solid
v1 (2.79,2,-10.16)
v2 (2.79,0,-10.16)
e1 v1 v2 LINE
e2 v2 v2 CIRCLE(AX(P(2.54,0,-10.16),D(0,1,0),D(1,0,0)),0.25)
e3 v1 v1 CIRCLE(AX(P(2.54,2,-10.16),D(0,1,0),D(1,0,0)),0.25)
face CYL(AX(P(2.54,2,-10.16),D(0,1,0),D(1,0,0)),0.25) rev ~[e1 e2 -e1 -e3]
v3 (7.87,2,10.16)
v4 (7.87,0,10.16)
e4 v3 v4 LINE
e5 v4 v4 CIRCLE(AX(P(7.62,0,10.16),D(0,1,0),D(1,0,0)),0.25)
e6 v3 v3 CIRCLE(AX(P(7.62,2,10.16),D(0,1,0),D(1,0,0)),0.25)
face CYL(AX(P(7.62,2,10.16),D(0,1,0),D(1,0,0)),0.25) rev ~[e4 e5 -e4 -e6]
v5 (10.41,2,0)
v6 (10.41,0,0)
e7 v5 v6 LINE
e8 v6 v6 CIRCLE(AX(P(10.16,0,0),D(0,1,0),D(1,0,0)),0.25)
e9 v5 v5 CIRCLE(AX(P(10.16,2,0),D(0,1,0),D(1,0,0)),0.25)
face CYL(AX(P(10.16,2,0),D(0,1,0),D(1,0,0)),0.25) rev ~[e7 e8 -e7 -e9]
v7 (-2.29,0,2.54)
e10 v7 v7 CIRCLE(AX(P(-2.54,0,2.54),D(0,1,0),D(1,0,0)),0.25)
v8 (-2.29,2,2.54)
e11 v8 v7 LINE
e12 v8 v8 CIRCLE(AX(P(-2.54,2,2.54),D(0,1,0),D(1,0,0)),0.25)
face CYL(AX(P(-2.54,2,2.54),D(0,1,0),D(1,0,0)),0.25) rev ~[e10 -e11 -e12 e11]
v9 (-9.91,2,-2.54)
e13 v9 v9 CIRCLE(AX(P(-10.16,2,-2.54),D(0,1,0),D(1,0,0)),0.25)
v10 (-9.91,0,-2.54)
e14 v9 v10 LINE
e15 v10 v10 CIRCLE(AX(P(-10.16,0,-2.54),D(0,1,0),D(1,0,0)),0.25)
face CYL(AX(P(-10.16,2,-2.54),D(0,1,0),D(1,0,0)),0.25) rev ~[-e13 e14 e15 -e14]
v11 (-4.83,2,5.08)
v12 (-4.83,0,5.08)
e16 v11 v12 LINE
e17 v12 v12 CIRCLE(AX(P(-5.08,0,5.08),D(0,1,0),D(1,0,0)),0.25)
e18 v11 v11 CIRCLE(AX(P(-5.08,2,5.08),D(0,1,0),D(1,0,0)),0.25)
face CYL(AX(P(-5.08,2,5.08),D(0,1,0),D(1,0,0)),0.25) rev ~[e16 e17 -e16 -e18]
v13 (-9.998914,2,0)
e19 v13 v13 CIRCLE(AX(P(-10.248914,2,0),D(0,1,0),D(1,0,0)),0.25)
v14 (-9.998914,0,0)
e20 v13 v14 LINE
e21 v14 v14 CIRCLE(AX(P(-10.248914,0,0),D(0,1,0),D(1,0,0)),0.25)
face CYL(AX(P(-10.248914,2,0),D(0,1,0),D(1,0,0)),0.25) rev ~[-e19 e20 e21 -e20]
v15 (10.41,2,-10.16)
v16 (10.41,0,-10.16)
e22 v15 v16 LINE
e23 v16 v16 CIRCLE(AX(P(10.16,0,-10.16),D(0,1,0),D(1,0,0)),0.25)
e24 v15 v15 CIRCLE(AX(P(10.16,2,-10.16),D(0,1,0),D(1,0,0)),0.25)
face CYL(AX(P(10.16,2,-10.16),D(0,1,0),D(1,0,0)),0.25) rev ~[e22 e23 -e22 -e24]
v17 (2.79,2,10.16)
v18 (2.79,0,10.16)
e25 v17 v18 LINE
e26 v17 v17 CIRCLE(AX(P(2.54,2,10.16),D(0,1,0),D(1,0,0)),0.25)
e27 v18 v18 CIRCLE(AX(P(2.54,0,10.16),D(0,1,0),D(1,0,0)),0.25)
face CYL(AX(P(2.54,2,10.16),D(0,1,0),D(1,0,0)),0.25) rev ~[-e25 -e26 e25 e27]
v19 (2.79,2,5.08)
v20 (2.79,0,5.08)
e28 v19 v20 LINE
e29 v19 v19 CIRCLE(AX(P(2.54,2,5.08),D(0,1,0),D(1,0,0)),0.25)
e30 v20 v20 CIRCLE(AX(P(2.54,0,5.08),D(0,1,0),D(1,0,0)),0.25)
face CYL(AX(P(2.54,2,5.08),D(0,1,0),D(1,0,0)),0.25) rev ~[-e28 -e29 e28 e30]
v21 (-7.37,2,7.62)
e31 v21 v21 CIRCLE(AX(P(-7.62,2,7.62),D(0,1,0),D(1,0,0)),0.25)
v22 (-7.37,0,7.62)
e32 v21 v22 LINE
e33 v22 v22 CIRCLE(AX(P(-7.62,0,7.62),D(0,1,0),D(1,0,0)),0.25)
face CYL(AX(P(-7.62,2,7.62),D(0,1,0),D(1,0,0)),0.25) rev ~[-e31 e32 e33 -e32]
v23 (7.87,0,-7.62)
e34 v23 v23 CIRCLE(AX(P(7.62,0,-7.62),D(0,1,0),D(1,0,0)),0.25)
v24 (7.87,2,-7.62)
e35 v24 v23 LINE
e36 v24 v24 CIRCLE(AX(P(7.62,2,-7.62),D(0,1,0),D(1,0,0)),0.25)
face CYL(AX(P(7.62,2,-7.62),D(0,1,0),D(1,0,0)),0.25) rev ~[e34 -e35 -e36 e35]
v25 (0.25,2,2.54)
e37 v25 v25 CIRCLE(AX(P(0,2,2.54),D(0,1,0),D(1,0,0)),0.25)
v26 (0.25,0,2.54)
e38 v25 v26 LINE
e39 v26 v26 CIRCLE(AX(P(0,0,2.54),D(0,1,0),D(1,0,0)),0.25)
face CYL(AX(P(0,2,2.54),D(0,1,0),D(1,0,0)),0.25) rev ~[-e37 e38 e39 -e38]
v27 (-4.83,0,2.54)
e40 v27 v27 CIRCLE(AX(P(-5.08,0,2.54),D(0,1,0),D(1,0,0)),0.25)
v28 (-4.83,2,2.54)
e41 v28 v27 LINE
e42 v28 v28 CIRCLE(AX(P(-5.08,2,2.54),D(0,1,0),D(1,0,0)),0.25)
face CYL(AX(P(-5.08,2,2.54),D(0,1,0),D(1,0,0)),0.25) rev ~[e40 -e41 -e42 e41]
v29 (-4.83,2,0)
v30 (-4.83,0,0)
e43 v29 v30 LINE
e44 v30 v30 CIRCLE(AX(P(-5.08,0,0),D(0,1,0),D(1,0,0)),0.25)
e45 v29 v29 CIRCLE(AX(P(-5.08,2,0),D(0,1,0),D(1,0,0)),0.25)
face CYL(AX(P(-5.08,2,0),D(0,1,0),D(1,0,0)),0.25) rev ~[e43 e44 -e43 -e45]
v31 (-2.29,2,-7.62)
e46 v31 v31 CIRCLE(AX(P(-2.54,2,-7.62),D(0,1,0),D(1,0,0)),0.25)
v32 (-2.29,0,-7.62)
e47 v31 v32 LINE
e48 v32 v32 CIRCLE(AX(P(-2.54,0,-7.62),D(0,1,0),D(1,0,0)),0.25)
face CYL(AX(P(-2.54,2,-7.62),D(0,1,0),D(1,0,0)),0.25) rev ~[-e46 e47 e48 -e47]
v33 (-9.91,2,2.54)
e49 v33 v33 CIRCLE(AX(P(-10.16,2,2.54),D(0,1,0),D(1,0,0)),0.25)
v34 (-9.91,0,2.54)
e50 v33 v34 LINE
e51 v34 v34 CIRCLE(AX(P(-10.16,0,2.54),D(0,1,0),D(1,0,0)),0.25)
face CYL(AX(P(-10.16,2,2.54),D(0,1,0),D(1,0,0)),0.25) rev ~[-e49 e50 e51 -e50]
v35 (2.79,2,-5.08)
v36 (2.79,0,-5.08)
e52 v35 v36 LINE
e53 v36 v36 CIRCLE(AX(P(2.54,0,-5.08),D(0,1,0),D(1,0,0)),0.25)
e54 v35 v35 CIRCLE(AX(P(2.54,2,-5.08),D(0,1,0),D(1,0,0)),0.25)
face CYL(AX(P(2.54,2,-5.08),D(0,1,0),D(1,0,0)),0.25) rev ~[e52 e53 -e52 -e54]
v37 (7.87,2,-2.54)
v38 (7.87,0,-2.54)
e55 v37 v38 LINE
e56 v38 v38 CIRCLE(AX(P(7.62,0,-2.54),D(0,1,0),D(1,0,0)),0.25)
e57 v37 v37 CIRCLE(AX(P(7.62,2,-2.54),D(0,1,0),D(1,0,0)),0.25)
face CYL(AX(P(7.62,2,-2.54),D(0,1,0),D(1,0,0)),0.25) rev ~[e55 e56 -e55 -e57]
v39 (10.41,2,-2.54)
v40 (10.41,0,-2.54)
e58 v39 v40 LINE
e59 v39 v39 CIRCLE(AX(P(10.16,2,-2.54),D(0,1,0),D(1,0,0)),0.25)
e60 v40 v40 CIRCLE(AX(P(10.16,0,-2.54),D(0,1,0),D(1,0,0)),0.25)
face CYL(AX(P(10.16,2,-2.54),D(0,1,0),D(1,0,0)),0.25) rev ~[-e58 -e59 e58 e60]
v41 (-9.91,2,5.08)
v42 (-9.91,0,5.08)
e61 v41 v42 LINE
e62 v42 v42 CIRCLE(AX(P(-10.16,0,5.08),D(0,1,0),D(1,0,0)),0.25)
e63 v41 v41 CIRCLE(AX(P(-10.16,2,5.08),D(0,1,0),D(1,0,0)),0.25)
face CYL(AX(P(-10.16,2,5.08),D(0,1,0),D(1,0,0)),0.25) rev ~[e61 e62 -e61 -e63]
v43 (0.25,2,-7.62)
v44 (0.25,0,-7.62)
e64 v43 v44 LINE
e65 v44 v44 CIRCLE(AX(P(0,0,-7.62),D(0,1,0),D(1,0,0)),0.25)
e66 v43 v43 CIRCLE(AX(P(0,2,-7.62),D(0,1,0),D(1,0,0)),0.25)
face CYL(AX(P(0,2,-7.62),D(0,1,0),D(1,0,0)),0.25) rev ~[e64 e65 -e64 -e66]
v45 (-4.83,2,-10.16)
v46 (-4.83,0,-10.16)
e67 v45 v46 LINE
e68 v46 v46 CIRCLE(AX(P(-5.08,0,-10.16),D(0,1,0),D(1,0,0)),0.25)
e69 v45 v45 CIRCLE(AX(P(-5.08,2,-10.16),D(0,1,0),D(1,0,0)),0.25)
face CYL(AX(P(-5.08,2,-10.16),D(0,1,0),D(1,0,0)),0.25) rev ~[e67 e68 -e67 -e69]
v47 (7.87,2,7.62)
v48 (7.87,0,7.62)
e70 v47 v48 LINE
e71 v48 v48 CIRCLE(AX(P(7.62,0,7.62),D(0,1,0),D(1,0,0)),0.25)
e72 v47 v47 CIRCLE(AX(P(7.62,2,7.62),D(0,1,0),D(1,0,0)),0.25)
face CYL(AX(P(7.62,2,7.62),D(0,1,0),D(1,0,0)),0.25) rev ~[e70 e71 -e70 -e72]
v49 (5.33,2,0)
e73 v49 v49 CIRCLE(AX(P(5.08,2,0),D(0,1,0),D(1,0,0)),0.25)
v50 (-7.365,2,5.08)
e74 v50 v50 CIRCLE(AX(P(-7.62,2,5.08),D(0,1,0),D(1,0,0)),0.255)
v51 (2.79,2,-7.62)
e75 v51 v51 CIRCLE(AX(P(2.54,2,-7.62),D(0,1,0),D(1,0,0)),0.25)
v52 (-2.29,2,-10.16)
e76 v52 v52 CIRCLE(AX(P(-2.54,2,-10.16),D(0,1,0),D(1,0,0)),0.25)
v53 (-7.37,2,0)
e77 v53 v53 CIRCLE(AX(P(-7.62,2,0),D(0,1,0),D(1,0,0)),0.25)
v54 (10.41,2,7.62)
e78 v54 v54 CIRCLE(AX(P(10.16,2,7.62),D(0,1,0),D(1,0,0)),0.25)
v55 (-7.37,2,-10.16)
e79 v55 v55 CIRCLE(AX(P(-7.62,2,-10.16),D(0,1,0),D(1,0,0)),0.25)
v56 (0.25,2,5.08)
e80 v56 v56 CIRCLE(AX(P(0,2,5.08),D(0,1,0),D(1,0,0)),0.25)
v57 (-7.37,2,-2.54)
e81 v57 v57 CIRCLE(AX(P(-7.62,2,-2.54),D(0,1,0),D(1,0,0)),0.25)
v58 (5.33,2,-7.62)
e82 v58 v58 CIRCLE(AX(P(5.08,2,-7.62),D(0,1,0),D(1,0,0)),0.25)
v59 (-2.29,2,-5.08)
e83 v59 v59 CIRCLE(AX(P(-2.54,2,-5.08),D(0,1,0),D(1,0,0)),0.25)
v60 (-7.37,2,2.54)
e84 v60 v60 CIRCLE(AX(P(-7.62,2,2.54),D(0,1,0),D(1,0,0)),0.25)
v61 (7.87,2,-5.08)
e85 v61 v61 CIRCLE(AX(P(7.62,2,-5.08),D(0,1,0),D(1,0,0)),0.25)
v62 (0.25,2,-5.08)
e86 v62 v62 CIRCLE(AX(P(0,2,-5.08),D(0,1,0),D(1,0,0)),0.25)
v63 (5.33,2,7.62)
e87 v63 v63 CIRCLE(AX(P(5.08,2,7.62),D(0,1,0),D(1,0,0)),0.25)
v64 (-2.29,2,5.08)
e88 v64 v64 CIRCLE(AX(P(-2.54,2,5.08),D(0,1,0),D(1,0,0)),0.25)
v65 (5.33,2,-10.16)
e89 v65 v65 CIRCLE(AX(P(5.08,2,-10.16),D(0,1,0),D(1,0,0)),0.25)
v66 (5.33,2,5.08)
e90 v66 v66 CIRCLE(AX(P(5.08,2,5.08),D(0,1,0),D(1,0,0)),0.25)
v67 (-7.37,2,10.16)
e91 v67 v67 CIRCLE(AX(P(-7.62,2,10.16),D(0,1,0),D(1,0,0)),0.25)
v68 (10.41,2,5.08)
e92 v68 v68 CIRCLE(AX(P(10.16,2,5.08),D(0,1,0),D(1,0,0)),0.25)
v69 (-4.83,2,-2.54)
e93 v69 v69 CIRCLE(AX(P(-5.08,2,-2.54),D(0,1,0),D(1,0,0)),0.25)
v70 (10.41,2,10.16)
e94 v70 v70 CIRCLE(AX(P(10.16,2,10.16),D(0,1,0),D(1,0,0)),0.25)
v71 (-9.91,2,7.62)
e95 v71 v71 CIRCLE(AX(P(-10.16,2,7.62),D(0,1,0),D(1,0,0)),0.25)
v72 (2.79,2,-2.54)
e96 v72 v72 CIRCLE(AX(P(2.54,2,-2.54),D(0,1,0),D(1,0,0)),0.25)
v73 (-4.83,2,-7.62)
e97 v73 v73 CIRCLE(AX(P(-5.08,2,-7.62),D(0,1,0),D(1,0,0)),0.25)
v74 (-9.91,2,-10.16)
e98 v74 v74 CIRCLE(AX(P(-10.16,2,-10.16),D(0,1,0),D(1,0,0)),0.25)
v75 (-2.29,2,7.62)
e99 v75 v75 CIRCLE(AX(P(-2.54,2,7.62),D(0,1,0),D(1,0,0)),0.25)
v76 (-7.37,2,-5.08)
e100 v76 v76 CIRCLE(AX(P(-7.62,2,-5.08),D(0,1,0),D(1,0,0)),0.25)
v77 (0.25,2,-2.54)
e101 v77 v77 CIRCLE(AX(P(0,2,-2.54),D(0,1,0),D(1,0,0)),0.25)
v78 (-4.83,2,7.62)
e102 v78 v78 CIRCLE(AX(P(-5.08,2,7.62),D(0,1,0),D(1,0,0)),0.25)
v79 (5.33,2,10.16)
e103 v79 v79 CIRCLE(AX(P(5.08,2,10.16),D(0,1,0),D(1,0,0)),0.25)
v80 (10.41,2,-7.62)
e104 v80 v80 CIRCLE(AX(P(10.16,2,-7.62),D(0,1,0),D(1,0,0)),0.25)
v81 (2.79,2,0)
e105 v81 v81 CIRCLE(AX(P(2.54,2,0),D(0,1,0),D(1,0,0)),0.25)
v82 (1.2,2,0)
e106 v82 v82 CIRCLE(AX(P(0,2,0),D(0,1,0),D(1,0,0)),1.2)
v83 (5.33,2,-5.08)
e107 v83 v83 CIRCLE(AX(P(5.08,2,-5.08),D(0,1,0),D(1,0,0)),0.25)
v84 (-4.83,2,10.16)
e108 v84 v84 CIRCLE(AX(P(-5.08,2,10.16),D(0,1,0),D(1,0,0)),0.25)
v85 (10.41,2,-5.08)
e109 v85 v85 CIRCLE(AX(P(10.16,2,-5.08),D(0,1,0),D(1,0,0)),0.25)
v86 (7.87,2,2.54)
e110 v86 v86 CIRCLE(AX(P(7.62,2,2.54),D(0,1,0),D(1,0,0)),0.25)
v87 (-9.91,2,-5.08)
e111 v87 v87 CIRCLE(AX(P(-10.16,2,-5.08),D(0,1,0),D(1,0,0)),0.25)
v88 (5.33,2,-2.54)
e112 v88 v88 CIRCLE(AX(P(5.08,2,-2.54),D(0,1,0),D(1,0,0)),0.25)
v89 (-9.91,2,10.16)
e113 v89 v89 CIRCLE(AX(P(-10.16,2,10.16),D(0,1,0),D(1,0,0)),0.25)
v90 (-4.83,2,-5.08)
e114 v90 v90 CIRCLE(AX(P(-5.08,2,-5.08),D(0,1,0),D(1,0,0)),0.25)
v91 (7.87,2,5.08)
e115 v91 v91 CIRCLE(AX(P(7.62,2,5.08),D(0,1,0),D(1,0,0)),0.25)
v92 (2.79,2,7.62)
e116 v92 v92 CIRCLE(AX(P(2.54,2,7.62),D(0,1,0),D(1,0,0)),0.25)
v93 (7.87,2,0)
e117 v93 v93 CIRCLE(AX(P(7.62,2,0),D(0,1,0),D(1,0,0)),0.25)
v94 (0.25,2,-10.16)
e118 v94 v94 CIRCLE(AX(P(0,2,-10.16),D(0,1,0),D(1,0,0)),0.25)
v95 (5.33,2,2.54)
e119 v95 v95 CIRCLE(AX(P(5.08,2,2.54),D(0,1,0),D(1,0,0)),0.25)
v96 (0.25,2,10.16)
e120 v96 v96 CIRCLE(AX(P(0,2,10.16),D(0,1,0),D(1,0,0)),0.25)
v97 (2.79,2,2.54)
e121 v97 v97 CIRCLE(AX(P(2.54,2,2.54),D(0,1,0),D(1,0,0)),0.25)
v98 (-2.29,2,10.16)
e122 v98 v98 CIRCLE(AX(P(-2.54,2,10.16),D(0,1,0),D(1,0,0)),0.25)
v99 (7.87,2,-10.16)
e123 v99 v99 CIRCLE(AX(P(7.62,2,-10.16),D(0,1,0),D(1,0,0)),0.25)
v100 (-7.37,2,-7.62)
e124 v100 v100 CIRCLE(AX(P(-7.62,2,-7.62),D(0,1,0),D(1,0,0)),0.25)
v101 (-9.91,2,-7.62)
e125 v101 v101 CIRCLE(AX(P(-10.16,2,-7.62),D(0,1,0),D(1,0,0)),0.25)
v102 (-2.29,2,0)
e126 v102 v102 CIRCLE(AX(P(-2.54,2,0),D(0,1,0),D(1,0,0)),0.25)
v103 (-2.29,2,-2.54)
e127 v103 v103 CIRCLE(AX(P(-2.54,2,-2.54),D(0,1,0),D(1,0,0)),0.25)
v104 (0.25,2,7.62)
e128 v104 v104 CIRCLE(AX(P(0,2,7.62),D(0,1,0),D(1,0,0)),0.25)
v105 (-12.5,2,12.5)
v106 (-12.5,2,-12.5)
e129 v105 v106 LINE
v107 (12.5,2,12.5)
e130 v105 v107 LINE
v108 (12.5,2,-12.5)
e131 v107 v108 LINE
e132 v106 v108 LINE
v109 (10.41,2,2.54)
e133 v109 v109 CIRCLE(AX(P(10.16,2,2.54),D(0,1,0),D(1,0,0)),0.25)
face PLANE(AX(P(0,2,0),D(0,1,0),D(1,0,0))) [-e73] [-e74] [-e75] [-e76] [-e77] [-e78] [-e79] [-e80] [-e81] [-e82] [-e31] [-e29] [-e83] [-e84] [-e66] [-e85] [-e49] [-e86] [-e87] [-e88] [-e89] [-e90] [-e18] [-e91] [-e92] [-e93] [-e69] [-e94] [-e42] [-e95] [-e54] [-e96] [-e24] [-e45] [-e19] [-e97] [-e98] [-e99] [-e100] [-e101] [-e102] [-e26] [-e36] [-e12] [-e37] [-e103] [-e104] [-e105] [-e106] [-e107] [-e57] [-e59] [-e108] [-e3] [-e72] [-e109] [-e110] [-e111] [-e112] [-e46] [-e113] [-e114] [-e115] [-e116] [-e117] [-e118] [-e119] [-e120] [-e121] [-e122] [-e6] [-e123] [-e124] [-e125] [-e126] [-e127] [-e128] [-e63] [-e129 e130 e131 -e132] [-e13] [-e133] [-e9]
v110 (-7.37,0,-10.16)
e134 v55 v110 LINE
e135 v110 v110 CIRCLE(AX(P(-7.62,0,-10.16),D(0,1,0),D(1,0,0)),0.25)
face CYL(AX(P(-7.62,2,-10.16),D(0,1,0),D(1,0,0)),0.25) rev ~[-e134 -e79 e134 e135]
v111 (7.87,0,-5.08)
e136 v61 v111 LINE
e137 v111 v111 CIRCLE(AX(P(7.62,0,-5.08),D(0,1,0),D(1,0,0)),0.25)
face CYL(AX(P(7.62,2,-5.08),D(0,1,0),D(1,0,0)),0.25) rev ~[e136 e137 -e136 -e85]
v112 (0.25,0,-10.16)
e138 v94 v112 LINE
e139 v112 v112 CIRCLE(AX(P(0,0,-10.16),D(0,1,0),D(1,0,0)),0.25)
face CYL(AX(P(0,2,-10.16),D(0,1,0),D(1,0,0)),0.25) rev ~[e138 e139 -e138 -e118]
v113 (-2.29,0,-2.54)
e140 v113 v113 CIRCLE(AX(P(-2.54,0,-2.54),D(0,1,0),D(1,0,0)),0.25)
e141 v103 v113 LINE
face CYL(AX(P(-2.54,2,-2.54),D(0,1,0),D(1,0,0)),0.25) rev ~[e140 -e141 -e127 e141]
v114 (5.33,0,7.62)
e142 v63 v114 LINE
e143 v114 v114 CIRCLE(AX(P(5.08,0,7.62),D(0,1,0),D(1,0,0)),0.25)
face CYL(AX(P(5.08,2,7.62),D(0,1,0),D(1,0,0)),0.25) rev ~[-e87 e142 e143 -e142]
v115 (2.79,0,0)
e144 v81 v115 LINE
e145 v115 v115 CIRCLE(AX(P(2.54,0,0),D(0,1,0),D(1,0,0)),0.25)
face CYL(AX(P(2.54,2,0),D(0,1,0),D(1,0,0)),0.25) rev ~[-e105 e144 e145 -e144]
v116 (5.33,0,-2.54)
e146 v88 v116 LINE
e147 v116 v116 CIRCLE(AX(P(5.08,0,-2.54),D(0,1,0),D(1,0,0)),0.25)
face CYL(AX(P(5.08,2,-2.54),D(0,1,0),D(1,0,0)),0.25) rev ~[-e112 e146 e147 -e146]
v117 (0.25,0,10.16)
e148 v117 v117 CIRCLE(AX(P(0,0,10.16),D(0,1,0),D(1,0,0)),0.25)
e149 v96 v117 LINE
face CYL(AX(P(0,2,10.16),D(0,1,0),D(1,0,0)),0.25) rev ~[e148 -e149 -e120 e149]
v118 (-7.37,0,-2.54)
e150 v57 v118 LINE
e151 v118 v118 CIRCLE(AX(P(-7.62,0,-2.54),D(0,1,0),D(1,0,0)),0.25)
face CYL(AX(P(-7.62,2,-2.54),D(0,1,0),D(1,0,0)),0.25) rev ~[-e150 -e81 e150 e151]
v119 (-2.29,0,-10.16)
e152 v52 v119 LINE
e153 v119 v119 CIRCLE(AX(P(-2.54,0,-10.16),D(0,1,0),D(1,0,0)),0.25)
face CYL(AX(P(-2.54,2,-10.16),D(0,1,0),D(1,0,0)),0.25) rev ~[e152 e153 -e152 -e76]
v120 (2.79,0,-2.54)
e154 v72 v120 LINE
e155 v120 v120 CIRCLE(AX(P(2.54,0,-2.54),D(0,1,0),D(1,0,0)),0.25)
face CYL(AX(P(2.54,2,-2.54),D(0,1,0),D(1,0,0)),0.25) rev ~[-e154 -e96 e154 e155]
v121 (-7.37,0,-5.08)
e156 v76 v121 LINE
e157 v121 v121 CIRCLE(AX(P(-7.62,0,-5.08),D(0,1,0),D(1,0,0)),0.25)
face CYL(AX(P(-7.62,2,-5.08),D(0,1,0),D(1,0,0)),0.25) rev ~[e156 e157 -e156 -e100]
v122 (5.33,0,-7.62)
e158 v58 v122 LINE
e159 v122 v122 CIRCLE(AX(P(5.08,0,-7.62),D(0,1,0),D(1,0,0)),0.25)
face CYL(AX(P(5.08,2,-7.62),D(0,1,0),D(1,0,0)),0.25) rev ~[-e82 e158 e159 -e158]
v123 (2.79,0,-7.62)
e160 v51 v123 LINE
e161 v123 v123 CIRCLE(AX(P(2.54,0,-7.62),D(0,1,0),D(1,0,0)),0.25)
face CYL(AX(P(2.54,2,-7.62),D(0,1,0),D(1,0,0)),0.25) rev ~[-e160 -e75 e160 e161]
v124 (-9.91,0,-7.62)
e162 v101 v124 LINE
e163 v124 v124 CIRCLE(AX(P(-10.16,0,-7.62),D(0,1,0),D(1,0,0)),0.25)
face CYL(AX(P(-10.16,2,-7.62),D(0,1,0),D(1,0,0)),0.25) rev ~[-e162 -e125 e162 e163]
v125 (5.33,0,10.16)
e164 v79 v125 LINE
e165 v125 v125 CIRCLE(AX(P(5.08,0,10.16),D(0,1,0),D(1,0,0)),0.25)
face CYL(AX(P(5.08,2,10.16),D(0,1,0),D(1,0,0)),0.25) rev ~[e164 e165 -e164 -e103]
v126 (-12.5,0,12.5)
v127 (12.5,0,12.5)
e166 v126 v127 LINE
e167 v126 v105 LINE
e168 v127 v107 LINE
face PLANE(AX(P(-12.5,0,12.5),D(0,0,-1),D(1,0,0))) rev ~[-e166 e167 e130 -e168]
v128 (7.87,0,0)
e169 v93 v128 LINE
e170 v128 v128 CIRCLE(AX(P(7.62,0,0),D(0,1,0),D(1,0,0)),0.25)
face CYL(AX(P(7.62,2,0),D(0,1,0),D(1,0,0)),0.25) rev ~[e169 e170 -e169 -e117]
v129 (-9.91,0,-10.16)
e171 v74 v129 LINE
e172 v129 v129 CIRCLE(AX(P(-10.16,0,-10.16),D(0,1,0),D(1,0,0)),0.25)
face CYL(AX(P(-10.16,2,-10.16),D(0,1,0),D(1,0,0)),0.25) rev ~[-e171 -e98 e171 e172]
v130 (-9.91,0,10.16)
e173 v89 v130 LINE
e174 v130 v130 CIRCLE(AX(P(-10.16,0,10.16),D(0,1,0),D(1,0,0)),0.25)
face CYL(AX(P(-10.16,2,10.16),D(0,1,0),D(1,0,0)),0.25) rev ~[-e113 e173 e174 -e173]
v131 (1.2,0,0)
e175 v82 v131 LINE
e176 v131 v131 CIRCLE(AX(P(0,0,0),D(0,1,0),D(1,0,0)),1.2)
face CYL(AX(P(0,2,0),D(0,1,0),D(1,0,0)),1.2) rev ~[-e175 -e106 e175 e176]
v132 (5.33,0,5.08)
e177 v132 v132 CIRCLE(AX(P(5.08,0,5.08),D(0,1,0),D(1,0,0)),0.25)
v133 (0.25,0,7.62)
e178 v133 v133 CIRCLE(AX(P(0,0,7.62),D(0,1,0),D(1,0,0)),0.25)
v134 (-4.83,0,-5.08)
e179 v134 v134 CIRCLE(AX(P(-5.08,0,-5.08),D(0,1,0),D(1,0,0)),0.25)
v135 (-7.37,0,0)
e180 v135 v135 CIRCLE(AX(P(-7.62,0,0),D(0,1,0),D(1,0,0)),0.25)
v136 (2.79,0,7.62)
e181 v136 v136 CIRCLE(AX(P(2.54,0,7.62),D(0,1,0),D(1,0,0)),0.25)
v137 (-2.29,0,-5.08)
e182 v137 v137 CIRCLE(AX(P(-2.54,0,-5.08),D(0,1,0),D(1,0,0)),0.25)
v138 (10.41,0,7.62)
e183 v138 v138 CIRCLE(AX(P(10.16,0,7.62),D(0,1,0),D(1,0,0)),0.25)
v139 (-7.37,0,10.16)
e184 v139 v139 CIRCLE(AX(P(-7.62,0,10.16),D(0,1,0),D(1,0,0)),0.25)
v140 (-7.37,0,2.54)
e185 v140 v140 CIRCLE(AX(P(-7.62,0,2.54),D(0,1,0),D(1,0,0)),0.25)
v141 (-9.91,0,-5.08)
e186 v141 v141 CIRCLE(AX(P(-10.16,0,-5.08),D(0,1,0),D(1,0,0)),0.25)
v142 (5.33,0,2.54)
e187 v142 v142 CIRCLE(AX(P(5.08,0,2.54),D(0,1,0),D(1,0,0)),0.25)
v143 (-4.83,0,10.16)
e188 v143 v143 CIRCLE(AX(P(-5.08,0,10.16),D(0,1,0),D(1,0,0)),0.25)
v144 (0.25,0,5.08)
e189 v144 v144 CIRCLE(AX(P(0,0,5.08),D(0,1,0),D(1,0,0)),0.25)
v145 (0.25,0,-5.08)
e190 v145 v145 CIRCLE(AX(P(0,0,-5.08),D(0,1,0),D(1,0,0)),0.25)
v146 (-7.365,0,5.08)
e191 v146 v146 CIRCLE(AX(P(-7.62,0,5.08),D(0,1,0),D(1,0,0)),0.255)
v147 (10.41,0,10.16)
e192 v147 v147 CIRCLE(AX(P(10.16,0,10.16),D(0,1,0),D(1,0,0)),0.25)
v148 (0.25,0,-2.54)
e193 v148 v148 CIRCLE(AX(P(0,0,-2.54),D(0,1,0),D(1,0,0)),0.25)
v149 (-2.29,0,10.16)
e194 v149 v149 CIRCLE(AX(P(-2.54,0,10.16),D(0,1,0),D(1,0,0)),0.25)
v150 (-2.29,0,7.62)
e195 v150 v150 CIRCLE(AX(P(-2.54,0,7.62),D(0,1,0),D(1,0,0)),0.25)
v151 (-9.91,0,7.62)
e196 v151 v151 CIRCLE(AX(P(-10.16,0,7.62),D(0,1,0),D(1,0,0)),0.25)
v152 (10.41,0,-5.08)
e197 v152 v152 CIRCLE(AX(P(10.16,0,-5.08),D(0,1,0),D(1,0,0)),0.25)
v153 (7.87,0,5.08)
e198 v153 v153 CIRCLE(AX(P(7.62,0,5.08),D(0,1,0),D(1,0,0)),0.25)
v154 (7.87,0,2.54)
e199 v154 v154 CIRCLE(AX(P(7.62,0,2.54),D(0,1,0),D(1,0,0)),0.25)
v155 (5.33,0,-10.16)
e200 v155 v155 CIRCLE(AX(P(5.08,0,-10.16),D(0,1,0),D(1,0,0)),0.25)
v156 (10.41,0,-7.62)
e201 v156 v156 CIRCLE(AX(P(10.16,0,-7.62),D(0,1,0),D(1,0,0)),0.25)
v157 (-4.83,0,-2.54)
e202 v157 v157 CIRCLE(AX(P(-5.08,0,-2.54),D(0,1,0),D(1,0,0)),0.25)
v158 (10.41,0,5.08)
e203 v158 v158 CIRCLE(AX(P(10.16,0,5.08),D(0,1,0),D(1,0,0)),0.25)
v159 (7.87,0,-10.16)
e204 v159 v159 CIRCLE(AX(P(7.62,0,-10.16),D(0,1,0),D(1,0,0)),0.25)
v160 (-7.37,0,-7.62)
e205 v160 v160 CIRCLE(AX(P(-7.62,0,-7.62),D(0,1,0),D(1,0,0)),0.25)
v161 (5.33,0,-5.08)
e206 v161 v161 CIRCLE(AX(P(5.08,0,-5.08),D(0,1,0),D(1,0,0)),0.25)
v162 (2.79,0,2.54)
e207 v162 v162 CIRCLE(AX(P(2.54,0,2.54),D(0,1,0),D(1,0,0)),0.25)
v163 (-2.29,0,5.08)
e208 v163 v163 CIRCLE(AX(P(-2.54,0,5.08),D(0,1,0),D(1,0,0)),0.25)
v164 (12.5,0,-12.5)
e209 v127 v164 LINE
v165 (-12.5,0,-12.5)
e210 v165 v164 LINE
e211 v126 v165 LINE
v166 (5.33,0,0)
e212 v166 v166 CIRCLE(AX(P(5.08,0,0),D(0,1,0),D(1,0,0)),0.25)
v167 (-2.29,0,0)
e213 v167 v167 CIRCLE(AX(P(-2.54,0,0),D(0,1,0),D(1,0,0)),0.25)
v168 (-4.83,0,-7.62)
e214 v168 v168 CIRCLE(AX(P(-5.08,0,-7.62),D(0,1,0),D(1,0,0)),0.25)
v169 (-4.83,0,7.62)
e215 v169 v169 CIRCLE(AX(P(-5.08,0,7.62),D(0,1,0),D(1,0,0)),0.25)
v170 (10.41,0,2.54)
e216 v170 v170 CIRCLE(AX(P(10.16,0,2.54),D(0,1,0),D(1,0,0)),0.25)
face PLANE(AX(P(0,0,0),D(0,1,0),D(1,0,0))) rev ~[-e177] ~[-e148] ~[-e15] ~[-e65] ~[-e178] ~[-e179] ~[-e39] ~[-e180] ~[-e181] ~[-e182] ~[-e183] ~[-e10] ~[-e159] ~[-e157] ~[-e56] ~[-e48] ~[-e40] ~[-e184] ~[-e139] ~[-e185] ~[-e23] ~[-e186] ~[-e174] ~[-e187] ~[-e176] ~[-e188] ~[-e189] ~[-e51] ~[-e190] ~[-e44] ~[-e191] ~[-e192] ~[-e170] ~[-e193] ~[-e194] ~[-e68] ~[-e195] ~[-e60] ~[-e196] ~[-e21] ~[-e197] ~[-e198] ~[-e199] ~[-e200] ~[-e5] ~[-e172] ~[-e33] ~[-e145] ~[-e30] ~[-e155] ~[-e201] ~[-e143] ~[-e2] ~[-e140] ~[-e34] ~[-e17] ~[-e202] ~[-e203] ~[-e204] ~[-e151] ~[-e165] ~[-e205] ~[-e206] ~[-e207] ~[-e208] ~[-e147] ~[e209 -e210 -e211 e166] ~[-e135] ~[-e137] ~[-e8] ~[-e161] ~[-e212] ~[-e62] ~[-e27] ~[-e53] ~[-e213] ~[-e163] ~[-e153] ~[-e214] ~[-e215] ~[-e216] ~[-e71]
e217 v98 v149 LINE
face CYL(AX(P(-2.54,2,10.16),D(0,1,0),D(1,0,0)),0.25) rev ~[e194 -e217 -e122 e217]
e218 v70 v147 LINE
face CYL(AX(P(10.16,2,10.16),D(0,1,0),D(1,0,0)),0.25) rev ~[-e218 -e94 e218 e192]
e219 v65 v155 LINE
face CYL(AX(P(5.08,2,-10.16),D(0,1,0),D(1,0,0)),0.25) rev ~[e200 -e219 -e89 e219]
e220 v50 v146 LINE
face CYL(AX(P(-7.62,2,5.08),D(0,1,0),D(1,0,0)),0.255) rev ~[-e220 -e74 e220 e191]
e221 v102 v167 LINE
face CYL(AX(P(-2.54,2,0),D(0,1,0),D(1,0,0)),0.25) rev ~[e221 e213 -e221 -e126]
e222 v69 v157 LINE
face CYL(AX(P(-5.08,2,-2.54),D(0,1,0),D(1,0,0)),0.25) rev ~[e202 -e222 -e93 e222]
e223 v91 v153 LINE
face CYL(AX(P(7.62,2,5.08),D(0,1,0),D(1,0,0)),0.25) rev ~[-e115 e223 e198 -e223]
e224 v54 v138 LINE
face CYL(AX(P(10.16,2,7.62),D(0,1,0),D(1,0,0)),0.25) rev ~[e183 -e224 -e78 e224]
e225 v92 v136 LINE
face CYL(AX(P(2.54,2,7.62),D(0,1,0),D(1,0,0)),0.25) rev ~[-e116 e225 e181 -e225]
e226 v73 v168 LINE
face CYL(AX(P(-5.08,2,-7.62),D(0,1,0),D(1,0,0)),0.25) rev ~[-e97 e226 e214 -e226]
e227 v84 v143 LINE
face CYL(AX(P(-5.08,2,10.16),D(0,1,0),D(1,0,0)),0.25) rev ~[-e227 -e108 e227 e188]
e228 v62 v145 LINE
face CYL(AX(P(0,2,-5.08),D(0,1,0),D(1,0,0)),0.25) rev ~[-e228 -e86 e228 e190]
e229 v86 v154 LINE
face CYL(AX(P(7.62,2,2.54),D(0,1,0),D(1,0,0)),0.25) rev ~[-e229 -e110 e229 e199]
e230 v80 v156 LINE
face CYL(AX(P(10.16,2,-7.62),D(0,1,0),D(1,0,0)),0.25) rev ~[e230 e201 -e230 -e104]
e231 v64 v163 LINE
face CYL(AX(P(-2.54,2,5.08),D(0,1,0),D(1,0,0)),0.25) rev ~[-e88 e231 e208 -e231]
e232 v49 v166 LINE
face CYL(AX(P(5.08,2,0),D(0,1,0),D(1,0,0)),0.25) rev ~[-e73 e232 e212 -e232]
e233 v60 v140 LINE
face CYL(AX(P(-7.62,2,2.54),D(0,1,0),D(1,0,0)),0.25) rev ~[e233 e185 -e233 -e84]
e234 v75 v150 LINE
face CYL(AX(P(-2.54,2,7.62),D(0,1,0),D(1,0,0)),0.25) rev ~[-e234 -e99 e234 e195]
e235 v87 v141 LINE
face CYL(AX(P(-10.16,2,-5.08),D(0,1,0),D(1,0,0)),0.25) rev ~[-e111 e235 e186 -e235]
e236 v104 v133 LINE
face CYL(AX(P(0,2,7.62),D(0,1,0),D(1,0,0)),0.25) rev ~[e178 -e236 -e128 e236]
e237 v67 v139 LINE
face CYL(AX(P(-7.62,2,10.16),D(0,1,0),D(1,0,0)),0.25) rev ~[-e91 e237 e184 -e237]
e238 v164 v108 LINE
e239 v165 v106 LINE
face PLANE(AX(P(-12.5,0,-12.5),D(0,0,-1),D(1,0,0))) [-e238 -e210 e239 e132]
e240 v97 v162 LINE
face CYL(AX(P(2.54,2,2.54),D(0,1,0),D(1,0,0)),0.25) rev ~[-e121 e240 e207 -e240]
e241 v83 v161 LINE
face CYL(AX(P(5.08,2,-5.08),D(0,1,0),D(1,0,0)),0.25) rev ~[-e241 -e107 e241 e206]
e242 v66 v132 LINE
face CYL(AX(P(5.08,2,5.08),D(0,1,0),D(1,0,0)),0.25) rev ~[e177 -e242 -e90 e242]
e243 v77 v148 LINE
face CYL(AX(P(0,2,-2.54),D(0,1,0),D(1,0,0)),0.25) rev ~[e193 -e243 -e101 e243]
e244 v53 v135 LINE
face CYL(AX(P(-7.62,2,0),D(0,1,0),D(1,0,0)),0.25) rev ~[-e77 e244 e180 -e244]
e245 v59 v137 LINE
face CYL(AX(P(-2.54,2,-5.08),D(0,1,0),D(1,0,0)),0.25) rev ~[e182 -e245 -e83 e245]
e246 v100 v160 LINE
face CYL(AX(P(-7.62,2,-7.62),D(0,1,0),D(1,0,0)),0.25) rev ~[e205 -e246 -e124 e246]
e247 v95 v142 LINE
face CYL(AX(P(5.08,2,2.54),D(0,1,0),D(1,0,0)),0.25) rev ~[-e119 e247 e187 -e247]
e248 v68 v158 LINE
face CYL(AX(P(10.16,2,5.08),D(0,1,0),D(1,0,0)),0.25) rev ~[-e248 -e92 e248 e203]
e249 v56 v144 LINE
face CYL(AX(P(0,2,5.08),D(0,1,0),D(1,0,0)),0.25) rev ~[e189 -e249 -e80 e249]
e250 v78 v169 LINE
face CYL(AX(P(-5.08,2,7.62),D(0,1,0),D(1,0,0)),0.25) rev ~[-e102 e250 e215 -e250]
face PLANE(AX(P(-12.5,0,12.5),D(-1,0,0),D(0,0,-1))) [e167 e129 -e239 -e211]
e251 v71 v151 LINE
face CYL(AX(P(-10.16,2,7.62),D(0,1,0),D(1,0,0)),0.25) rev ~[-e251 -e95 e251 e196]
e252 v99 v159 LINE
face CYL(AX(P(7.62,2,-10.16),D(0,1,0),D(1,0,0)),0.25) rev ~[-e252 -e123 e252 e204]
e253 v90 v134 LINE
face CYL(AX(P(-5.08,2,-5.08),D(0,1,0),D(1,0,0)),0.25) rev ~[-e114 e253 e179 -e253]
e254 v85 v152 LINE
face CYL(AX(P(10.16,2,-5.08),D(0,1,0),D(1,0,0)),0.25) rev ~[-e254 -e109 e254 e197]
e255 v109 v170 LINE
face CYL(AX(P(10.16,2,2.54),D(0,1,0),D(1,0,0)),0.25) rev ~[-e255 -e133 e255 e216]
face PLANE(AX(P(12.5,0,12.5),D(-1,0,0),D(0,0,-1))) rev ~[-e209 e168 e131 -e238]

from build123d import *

# Parameters (mm, degrees)
SKETCH_1_W          = 25
SKETCH_1_H          = 25
EXTRUDE_1_DEPTH     = 2
SKETCH_2_R          = 1.2
CUT_EXTRUDE_1_DEPTH = 2
SKETCH_3_R          = 0.25
SKETCH_3_R_2        = 0.255
CUT_EXTRUDE_2_DEPTH = 2


with BuildPart() as part:
    # 스케치1 → 보스-돌출1 (new body)
    with BuildSketch(Plane(origin=(0, 0, 0), x_dir=(1, 0, 0), z_dir=(0, 1, 0))):
        Rectangle(SKETCH_1_W, SKETCH_1_H)
    extrude(amount=EXTRUDE_1_DEPTH)

    # 스케치2 → 컷-돌출1 (cut)
    with BuildSketch(Plane(origin=(0, 2, 0), x_dir=(1, 0, 0), z_dir=(0, 1, 0))):
        Circle(SKETCH_2_R)
    extrude(amount=-CUT_EXTRUDE_1_DEPTH, mode=Mode.SUBTRACT)

    # 스케치3 → 컷-돌출2 (cut)
    with BuildSketch(Plane(origin=(0, 2, 0), x_dir=(1, 0, 0), z_dir=(0, 1, 0))):
        Circle(SKETCH_3_R)
        with Locations((-2.54, 0)):
            Circle(SKETCH_3_R)
        with Locations((-5.08, 0)):
            Circle(SKETCH_3_R)
        with Locations((-7.62, 0)):
            Circle(SKETCH_3_R)
        with Locations((-10.24891396, 0)):
            Circle(SKETCH_3_R)
        with Locations((2.54, 0)):
            Circle(SKETCH_3_R)
        with Locations((5.08, 0)):
            Circle(SKETCH_3_R)
        with Locations((7.62, 0)):
            Circle(SKETCH_3_R)
        with Locations((10.16, 0)):
            Circle(SKETCH_3_R)
        with Locations((-10.16, 2.54)):
            Circle(SKETCH_3_R)
        with Locations((-7.62, 2.54)):
            Circle(SKETCH_3_R)
        with Locations((-5.08, 2.54)):
            Circle(SKETCH_3_R)
        with Locations((-2.54, 2.54)):
            Circle(SKETCH_3_R)
        with Locations((0, 2.54)):
            Circle(SKETCH_3_R)
        with Locations((2.54, 2.54)):
            Circle(SKETCH_3_R)
        with Locations((5.08, 2.54)):
            Circle(SKETCH_3_R)
        with Locations((7.62, 2.54)):
            Circle(SKETCH_3_R)
        with Locations((10.16, 2.54)):
            Circle(SKETCH_3_R)
        with Locations((-10.16, 5.08)):
            Circle(SKETCH_3_R)
        with Locations((-7.62, 5.08)):
            Circle(SKETCH_3_R)
        with Locations((-5.08, 5.08)):
            Circle(SKETCH_3_R)
        with Locations((-2.54, 5.08)):
            Circle(SKETCH_3_R)
        with Locations((0, 5.08)):
            Circle(SKETCH_3_R)
        with Locations((2.54, 5.08)):
            Circle(SKETCH_3_R)
        with Locations((5.08, 5.08)):
            Circle(SKETCH_3_R)
        with Locations((7.62, 5.08)):
            Circle(SKETCH_3_R)
        with Locations((10.16, 5.08)):
            Circle(SKETCH_3_R)
        with Locations((10.16, 7.62)):
            Circle(SKETCH_3_R)
        with Locations((7.62, 7.62)):
            Circle(SKETCH_3_R)
        with Locations((5.08, 7.62)):
            Circle(SKETCH_3_R)
        with Locations((2.54, 7.62)):
            Circle(SKETCH_3_R)
        with Locations((0, 7.62)):
            Circle(SKETCH_3_R)
        with Locations((-2.54, 7.62)):
            Circle(SKETCH_3_R)
        with Locations((-5.08, 7.62)):
            Circle(SKETCH_3_R)
        with Locations((-7.62, 7.62)):
            Circle(SKETCH_3_R)
        with Locations((-10.16, 7.62)):
            Circle(SKETCH_3_R)
        with Locations((10.16, 10.16)):
            Circle(SKETCH_3_R)
        with Locations((7.62, 10.16)):
            Circle(SKETCH_3_R)
        with Locations((5.08, 10.16)):
            Circle(SKETCH_3_R)
        with Locations((2.54, 10.16)):
            Circle(SKETCH_3_R)
        with Locations((0, 10.16)):
            Circle(SKETCH_3_R)
        with Locations((-2.54, 10.16)):
            Circle(SKETCH_3_R)
        with Locations((-5.08, 10.16)):
            Circle(SKETCH_3_R)
        with Locations((-7.62, 10.16)):
            Circle(SKETCH_3_R)
        with Locations((-10.16, 10.16)):
            Circle(SKETCH_3_R)
        with Locations((10.16, -2.54)):
            Circle(SKETCH_3_R)
        with Locations((7.62, -2.54)):
            Circle(SKETCH_3_R)
        with Locations((5.08, -2.54)):
            Circle(SKETCH_3_R)
        with Locations((2.54, -2.54)):
            Circle(SKETCH_3_R)
        with Locations((0, -2.54)):
            Circle(SKETCH_3_R)
        with Locations((-2.54, -2.54)):
            Circle(SKETCH_3_R)
        with Locations((-5.08, -2.54)):
            Circle(SKETCH_3_R)
        with Locations((-7.62, -2.54)):
            Circle(SKETCH_3_R)
        with Locations((-10.16, -2.54)):
            Circle(SKETCH_3_R)
        with Locations((10.16, -5.08)):
            Circle(SKETCH_3_R)
        with Locations((7.62, -5.08)):
            Circle(SKETCH_3_R)
        with Locations((5.08, -5.08)):
            Circle(SKETCH_3_R)
        with Locations((2.54, -5.08)):
            Circle(SKETCH_3_R)
        with Locations((0, -5.08)):
            Circle(SKETCH_3_R)
        with Locations((-2.54, -5.08)):
            Circle(SKETCH_3_R)
        with Locations((-5.08, -5.08)):
            Circle(SKETCH_3_R)
        with Locations((-7.62, -5.08)):
            Circle(SKETCH_3_R_2)
        with Locations((-10.16, -5.08)):
            Circle(SKETCH_3_R)
        with Locations((-10.16, -7.62)):
            Circle(SKETCH_3_R)
        with Locations((-7.62, -7.62)):
            Circle(SKETCH_3_R)
        with Locations((-5.08, -7.62)):
            Circle(SKETCH_3_R)
        with Locations((-2.54, -7.62)):
            Circle(SKETCH_3_R)
        with Locations((0, -7.62)):
            Circle(SKETCH_3_R)
        with Locations((2.54, -7.62)):
            Circle(SKETCH_3_R)
        with Locations((5.08, -7.62)):
            Circle(SKETCH_3_R)
        with Locations((7.62, -7.62)):
            Circle(SKETCH_3_R)
        with Locations((10.16, -7.62)):
            Circle(SKETCH_3_R)
        with Locations((-10.16, -10.16)):
            Circle(SKETCH_3_R)
        with Locations((-7.62, -10.16)):
            Circle(SKETCH_3_R)
        with Locations((-5.08, -10.16)):
            Circle(SKETCH_3_R)
        with Locations((-2.54, -10.16)):
            Circle(SKETCH_3_R)
        with Locations((0, -10.16)):
            Circle(SKETCH_3_R)
        with Locations((2.54, -10.16)):
            Circle(SKETCH_3_R)
        with Locations((5.08, -10.16)):
            Circle(SKETCH_3_R)
        with Locations((7.62, -10.16)):
            Circle(SKETCH_3_R)
        with Locations((10.16, -10.16)):
            Circle(SKETCH_3_R)
    extrude(amount=-CUT_EXTRUDE_2_DEPTH, mode=Mode.SUBTRACT)


solid = part.part
